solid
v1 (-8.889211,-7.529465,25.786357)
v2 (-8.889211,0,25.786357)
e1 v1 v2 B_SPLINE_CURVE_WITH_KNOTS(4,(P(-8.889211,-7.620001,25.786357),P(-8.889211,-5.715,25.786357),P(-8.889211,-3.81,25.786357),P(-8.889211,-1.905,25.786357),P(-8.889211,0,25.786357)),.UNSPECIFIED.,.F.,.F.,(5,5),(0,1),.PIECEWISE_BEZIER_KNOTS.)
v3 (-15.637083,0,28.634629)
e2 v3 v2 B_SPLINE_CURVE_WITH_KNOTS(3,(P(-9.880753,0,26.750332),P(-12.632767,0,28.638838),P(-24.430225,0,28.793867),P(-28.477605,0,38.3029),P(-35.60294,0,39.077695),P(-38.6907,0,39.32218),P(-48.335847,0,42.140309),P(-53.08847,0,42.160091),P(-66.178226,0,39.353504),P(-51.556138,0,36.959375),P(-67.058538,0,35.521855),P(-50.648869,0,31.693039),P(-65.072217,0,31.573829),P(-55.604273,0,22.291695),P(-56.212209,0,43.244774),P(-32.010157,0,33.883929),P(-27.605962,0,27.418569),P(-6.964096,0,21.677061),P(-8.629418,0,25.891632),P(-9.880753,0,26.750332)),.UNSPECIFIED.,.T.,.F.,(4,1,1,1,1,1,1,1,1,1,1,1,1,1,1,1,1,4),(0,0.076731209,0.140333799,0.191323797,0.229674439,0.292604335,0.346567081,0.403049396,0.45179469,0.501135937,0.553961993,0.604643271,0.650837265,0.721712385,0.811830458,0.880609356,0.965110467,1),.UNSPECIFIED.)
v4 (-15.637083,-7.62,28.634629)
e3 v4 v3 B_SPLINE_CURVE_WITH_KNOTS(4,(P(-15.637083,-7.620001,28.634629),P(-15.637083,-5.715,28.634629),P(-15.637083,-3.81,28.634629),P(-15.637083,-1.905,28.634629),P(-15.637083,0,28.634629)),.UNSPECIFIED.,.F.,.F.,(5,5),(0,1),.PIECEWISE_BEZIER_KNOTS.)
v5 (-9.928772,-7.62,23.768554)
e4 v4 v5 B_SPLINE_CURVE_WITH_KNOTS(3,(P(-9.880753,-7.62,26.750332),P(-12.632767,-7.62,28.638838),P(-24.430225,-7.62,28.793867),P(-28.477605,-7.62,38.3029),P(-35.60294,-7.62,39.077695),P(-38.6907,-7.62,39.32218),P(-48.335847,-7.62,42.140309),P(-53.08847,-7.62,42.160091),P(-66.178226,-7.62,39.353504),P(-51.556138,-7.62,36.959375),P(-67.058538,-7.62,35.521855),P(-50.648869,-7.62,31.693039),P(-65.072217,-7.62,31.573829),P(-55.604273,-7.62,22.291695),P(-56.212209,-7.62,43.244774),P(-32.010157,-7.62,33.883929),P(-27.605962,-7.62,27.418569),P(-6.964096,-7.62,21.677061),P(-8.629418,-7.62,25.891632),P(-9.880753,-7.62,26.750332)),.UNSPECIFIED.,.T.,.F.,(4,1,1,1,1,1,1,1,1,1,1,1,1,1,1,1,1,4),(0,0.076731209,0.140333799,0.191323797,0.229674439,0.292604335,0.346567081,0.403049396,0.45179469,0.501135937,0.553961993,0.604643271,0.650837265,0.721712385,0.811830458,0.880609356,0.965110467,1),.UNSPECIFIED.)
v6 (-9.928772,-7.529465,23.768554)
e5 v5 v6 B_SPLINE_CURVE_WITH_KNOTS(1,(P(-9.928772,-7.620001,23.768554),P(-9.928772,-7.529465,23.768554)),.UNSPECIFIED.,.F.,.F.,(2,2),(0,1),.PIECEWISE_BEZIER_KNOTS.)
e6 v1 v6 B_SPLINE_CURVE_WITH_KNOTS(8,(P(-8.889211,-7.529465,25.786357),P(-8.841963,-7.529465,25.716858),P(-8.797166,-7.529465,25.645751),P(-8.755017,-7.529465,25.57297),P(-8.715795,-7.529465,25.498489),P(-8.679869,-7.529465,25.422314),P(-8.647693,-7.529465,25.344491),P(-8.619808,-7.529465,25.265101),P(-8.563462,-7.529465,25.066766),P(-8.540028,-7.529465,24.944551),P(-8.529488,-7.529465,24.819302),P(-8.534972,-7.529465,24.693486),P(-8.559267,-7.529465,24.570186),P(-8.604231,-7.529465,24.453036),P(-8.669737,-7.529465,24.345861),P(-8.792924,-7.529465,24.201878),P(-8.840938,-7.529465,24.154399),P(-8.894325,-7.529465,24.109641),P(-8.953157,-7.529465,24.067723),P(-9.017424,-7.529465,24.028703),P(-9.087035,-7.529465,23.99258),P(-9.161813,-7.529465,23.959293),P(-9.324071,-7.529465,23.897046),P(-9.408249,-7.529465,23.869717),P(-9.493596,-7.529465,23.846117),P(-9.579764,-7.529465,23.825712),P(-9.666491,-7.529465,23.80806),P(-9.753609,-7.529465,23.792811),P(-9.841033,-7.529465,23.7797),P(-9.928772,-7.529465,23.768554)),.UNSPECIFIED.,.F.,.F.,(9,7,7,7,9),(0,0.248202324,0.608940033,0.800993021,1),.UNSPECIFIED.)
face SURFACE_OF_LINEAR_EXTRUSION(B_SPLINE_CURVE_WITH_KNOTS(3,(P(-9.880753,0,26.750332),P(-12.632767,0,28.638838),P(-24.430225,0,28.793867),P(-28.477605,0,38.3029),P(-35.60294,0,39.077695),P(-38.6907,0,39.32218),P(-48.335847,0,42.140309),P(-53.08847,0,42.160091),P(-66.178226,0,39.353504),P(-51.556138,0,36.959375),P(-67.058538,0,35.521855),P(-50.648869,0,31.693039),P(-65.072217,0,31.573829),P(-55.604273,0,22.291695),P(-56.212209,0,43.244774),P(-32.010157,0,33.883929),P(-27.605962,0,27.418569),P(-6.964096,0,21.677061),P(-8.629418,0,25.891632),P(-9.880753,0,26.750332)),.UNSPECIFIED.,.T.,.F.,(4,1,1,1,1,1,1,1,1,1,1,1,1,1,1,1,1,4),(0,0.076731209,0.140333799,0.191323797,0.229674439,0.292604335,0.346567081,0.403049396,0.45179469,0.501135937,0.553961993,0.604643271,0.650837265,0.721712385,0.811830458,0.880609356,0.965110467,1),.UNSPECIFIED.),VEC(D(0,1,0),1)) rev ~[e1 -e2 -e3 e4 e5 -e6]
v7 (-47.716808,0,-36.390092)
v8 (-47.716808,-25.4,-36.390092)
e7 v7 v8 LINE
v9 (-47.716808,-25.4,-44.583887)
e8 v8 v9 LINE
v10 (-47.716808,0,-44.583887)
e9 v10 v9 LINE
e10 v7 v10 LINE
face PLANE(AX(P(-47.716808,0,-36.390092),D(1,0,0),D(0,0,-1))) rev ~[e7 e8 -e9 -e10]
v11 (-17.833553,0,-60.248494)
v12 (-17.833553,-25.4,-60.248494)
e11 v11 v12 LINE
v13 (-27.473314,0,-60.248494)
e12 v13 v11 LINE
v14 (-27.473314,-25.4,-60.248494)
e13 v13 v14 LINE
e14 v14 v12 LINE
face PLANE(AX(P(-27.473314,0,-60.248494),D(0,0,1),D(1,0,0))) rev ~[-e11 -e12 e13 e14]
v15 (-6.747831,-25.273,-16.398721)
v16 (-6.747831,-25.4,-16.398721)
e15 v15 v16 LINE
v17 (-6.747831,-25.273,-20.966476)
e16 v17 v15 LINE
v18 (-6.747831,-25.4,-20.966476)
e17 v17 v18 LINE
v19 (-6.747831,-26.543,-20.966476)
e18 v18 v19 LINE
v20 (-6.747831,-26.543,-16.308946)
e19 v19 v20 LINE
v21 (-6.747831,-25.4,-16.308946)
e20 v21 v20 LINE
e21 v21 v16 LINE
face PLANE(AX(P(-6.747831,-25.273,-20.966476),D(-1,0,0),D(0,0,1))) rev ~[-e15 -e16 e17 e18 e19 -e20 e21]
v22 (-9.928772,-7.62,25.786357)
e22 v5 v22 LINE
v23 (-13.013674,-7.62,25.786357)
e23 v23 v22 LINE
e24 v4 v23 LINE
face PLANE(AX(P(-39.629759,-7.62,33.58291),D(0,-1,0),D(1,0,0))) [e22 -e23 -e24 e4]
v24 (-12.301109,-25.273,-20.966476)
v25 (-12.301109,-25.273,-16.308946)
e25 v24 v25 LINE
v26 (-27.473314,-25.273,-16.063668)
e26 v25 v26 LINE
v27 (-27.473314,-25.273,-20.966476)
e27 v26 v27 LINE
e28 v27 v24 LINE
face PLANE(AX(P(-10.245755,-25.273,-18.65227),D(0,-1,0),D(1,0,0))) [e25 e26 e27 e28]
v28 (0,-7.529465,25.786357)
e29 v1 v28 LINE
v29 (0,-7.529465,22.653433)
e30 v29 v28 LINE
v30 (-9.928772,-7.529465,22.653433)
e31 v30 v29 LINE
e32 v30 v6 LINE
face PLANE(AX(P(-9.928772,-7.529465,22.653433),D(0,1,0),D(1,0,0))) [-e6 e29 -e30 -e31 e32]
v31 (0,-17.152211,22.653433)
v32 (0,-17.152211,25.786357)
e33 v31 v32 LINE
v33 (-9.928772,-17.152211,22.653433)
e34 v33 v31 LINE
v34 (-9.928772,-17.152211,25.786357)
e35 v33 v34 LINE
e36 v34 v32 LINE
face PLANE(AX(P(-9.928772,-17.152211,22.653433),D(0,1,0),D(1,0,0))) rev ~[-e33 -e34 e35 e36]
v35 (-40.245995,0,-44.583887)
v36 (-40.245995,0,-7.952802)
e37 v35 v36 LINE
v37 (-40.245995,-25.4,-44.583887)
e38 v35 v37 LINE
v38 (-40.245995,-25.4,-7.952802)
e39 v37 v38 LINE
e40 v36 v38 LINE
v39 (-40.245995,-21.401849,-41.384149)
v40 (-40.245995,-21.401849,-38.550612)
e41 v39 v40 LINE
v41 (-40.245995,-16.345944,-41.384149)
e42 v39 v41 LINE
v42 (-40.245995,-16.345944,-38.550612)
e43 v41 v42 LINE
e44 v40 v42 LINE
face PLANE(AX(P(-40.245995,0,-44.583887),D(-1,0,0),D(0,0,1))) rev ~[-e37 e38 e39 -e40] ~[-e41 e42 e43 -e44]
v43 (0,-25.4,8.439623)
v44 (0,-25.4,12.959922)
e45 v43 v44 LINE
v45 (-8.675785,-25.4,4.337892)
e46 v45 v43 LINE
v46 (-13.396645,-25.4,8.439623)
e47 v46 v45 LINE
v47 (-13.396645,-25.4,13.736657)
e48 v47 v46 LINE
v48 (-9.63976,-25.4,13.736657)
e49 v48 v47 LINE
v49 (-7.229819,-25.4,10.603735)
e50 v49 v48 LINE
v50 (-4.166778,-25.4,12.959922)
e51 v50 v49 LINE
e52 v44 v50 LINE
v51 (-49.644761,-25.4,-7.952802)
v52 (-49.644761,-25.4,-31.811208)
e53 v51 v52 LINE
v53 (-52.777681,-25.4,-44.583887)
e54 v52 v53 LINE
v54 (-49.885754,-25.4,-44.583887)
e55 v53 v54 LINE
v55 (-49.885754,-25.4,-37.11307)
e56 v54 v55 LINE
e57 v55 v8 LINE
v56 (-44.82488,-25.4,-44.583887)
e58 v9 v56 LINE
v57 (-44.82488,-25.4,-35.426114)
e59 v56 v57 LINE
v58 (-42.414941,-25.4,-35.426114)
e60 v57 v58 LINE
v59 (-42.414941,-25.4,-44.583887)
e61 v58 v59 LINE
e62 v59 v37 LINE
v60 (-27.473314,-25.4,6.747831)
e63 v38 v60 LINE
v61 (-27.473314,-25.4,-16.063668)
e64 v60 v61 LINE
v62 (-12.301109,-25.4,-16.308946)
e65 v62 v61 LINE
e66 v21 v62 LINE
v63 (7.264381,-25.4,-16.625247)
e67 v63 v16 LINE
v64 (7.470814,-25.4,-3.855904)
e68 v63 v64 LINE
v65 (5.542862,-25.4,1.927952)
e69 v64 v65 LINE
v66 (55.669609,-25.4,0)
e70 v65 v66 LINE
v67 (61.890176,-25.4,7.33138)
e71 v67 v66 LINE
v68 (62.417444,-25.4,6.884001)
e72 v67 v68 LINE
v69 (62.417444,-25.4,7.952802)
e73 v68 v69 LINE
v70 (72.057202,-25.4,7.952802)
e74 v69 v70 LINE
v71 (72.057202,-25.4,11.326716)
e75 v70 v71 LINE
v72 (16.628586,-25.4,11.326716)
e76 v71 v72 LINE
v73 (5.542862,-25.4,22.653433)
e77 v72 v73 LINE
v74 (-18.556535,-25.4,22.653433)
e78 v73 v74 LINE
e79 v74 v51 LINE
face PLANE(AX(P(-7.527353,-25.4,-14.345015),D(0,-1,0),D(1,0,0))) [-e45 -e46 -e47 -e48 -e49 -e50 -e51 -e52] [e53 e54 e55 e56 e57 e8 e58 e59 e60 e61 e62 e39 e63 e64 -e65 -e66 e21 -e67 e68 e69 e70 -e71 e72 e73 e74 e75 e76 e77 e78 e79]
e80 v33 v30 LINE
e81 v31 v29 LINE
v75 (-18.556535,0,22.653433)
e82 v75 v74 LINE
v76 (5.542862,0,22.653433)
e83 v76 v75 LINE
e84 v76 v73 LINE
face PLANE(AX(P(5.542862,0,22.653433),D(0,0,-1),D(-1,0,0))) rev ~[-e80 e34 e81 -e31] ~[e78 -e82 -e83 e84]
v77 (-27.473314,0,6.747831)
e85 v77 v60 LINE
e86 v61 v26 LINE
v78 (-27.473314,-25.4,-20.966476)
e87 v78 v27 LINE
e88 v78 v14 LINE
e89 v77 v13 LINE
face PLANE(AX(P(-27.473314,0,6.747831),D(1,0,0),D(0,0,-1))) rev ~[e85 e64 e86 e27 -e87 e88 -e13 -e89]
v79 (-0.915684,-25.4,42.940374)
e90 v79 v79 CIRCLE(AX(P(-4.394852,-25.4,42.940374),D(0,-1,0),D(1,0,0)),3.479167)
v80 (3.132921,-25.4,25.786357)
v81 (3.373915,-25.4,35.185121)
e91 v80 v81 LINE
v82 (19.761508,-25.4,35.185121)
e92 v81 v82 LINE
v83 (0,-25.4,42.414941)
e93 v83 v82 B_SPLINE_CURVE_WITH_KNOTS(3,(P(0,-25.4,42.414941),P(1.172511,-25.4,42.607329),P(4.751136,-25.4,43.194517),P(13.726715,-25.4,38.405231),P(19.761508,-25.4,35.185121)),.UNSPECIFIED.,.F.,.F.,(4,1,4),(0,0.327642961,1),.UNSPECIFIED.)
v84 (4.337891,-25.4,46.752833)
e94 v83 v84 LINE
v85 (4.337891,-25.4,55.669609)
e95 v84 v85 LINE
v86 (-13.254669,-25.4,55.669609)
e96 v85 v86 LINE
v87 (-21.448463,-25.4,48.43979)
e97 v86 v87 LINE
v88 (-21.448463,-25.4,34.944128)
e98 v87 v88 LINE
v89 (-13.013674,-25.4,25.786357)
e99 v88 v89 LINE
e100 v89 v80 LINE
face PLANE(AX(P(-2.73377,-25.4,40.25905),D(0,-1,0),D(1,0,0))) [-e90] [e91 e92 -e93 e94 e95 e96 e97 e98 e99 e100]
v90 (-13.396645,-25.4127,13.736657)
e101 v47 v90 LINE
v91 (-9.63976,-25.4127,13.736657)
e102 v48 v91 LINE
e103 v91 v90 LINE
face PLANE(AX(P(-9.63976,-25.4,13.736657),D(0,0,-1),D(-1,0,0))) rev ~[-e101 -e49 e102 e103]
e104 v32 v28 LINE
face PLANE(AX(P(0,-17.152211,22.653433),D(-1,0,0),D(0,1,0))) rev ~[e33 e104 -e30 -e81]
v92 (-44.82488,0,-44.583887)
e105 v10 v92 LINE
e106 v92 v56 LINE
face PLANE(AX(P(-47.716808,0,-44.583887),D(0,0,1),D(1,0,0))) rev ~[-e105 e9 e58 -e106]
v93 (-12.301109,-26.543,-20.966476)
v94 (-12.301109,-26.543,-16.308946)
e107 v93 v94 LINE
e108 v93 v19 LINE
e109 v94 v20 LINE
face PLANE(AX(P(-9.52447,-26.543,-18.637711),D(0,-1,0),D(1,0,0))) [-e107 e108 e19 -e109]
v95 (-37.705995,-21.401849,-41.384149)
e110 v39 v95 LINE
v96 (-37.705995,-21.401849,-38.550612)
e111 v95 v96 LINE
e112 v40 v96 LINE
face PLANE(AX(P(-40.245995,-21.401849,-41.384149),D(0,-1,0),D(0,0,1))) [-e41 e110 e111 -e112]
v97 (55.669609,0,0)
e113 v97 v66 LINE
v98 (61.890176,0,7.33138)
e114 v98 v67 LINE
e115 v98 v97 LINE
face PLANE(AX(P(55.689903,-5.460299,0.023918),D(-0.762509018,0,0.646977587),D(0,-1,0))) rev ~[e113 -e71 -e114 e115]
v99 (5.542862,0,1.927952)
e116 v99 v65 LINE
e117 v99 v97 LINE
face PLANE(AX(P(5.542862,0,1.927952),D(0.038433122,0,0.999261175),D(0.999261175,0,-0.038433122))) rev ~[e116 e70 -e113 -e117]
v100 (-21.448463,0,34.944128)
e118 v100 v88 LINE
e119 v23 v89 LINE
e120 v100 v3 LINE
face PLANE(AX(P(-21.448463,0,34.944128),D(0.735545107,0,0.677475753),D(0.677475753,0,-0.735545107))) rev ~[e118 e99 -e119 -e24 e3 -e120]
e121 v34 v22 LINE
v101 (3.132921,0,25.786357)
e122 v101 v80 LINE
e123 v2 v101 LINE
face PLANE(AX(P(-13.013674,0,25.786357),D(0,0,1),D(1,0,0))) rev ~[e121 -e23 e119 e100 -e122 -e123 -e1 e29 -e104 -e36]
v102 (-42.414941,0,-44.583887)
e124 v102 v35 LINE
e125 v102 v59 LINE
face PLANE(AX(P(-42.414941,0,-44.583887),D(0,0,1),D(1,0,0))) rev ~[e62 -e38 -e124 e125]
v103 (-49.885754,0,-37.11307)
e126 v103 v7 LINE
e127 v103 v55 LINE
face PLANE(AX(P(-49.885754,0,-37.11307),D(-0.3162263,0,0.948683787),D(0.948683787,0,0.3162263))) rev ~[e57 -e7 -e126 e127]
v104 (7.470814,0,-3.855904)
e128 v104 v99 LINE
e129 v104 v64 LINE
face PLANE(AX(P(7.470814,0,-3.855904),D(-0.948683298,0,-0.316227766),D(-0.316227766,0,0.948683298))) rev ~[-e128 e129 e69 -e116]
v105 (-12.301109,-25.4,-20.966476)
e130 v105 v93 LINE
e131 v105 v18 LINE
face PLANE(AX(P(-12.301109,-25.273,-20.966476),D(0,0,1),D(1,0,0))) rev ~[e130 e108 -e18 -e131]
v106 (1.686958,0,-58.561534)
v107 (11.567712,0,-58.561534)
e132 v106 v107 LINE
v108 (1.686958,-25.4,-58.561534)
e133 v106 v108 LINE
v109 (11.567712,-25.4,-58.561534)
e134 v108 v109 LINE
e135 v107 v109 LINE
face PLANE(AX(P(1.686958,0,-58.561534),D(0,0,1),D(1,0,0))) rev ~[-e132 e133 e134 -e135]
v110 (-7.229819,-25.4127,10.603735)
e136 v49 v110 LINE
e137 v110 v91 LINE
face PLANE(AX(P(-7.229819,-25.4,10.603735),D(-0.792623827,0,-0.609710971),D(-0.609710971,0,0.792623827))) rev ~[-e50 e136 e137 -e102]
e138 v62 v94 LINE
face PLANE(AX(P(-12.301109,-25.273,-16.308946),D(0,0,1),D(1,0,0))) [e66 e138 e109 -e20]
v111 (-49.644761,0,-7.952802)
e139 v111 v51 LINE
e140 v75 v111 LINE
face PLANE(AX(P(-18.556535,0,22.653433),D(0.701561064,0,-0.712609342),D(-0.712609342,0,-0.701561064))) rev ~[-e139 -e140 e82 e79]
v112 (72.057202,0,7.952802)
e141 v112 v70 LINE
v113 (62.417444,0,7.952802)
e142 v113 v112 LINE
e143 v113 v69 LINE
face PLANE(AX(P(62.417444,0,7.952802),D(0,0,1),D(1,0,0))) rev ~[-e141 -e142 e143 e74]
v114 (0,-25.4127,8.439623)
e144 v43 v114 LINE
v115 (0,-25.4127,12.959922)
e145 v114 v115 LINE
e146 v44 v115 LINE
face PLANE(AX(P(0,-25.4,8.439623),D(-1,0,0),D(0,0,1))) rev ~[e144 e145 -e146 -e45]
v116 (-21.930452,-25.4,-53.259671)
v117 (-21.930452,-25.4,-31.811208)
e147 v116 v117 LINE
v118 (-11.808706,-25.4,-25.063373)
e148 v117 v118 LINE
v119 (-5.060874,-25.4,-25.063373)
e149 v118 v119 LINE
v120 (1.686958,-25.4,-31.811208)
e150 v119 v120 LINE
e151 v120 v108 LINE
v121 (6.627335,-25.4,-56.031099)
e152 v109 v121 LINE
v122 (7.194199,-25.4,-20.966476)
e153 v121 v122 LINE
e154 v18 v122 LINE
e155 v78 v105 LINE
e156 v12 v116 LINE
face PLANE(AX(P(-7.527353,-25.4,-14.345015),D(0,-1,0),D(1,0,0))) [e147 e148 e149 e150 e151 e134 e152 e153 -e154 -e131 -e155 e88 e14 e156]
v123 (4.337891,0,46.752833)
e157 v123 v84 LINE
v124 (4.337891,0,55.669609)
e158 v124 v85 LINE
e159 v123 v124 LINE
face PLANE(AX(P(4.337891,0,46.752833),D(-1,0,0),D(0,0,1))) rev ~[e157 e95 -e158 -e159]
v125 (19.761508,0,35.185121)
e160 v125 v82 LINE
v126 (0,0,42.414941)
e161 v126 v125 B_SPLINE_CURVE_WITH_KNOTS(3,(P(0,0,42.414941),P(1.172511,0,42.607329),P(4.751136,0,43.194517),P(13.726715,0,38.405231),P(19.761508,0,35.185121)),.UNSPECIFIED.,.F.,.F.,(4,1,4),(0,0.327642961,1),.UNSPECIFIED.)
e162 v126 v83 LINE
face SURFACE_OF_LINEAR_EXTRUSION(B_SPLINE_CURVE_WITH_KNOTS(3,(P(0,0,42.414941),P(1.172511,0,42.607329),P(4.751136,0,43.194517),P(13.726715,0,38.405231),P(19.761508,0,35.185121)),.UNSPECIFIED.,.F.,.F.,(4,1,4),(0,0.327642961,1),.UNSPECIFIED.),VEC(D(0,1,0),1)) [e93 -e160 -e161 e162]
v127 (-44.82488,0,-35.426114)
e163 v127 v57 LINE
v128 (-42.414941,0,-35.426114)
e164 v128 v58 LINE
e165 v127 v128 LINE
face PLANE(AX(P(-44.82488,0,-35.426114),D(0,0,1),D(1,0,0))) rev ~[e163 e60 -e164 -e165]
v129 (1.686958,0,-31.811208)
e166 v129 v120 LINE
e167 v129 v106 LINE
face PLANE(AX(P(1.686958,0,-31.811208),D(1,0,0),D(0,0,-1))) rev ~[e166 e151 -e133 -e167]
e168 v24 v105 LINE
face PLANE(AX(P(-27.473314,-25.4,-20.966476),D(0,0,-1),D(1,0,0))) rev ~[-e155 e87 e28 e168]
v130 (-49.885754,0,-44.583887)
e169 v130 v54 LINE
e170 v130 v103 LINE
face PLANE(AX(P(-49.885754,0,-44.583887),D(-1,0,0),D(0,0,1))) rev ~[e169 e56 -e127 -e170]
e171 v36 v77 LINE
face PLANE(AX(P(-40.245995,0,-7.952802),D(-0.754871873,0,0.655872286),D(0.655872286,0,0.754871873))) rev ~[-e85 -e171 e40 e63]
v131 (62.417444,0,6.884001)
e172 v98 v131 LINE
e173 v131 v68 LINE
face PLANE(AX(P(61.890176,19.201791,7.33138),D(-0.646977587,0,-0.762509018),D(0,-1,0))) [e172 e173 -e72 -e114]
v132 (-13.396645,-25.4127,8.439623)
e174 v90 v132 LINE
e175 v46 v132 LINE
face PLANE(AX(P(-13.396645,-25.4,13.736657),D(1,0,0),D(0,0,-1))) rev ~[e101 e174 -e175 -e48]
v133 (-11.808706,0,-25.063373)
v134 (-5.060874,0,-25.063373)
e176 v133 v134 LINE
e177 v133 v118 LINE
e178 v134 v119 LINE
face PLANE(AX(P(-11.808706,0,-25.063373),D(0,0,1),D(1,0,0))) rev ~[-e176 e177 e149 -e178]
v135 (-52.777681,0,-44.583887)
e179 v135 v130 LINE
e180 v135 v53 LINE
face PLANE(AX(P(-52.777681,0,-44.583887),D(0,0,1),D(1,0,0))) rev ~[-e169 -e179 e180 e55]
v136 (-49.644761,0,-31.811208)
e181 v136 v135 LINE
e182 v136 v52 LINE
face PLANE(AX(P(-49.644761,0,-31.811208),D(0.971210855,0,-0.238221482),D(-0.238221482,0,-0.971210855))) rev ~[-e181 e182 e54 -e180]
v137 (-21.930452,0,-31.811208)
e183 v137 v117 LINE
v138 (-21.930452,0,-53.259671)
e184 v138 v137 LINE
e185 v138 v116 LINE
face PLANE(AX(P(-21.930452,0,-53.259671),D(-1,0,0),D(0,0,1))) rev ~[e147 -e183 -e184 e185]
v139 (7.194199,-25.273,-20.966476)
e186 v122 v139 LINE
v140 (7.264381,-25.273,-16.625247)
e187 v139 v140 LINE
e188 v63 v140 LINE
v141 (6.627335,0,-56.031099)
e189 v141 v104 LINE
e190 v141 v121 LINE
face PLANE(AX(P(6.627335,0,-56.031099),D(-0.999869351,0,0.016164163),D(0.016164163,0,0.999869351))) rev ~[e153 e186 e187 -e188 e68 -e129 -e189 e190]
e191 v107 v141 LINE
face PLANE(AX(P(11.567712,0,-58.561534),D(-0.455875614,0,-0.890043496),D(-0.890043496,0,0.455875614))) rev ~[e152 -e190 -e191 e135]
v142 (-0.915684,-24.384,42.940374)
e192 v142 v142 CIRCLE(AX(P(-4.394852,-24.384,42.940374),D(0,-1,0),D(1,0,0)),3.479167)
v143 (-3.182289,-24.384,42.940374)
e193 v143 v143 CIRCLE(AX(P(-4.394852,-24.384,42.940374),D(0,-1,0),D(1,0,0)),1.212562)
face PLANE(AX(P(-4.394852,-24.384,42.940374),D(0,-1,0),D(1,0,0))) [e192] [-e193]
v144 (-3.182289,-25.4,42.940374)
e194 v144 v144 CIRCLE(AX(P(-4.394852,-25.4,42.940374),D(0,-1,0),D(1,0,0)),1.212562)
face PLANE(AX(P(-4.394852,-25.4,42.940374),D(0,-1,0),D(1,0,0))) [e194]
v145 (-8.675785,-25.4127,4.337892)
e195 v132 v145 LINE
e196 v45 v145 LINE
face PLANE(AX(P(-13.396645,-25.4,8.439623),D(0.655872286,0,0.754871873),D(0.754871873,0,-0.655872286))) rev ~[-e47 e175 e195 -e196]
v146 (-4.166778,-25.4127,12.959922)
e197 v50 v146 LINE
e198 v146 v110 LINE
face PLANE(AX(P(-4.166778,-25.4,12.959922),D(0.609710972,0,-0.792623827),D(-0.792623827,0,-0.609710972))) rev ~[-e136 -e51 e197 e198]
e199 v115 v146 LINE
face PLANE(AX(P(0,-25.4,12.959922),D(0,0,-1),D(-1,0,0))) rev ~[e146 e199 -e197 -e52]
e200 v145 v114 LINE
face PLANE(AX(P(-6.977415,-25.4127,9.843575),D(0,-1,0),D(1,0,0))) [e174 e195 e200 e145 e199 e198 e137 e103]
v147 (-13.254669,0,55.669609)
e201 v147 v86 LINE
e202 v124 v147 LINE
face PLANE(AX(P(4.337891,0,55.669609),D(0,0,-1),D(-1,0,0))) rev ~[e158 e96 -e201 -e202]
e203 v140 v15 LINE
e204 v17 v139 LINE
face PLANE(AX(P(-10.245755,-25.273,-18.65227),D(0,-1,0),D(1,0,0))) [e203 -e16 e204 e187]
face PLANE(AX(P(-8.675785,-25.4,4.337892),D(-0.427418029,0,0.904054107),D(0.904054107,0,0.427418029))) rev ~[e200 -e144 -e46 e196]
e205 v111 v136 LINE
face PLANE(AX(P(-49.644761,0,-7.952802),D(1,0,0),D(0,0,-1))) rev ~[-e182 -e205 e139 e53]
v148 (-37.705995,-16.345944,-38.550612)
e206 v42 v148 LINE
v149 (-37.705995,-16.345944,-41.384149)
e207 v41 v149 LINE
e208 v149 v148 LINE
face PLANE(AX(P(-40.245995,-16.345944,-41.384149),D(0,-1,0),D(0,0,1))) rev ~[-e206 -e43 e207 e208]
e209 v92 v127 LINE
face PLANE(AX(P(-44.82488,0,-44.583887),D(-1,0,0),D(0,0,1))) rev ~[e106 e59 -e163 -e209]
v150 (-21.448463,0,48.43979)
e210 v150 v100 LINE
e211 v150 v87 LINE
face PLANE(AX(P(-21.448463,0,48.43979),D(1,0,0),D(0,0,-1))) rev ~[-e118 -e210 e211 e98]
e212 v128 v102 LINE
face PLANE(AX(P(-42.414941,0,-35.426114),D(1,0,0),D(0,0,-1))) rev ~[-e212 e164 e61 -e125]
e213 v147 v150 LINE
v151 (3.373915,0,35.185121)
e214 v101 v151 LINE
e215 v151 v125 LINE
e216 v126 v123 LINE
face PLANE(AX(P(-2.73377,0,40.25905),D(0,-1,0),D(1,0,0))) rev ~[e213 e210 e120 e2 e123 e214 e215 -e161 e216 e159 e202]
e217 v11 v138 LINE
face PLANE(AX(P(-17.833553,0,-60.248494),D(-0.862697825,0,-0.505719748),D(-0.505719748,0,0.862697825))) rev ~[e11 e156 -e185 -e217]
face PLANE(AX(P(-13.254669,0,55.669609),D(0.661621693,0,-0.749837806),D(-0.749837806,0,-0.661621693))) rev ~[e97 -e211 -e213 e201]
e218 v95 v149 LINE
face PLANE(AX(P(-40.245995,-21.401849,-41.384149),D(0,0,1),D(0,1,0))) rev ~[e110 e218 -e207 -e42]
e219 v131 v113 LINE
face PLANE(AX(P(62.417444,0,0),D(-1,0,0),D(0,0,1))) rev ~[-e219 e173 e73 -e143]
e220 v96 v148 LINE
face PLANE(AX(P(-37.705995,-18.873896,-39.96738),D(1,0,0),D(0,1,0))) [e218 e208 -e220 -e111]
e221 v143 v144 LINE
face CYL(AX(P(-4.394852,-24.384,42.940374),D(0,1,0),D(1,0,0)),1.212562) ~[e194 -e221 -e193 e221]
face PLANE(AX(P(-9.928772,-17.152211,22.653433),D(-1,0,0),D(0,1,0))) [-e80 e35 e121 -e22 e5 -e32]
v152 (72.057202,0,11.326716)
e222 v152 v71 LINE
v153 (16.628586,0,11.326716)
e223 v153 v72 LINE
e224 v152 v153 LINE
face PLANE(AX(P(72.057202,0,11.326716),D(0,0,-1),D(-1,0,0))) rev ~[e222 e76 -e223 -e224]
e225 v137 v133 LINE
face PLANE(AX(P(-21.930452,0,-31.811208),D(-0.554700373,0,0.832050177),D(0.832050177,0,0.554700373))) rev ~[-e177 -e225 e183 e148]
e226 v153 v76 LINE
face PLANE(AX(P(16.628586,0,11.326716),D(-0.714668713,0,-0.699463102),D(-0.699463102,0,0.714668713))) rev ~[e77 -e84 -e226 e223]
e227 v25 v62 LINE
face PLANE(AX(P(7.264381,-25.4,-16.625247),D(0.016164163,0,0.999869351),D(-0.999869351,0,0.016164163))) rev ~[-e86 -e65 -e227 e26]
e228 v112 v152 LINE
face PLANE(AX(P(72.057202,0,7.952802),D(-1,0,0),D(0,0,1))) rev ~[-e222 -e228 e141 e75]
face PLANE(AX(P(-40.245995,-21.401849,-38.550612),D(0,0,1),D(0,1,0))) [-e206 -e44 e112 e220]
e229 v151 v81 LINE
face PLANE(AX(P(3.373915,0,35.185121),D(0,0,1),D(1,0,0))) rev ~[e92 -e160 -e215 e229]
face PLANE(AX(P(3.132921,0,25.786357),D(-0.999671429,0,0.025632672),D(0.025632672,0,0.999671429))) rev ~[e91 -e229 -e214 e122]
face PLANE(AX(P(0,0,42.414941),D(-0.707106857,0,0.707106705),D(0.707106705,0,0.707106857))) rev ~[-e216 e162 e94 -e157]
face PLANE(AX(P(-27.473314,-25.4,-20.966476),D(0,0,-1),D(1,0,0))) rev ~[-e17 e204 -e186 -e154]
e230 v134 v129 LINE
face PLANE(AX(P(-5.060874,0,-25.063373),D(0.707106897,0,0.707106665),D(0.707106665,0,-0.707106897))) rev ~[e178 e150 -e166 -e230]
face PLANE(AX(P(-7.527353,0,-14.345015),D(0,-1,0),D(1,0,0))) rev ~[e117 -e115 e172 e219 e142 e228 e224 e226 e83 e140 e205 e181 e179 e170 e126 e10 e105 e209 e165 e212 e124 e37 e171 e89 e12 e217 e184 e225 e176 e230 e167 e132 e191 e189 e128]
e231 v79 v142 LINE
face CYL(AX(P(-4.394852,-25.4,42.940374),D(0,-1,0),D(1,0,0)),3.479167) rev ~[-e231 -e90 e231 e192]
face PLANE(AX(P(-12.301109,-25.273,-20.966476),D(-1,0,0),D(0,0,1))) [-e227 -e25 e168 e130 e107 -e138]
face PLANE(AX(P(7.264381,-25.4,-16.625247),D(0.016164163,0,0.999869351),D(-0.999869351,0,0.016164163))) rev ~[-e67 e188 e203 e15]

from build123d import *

# Parameters (mm, degrees)
F1_DEPTH  = 25.4
F2_W      = 63.3505880833
F2_H      = 33.755319193
F3_DEPTH  = 60.198
F4_W      = 9.928772226
F4_H      = 9.6227461472
F5_DEPTH  = 3.302
F7_DEPTH  = 25.4
F8_R      = 3.4791673205
F9_DEPTH  = 1.016
F10_R     = 1.2125624456
F11_DEPTH = 1.016
F14_W     = 49.3241790682
F14_H     = 19.1668868065
F15_DEPTH = 53.848
F16_W     = 5.0559043884
F16_H     = 2.8335377574
F17_DEPTH = 2.54
F19_DEPTH = 7.62
F21_DEPTH = 0.127
F23_DEPTH = 0.0127
F24_W     = 5.5532782829
F24_H     = 4.6575302699
F25_DEPTH = 1.27


with BuildPart() as f1:
    # F0 (on Front) → F1 (new body)
    with BuildSketch(Plane.XZ):
        Polygon((-27.4733137339, 6.7478311248), (-27.4733137339, -60.2484941483), (-17.8335532546, -60.2484941483), (-21.9304524362, -53.2596707344), (-21.9304524362, -31.8112075329), (-11.8087055162, -25.0633731484), (-5.0608739257, -25.0633731484), (1.6869582469, -31.8112075329), (1.6869582469, -53.5006634891), (6.6273350385, -56.0310985893), (7.4708135799, -3.8559036329), (5.5428617634, 1.9279518165), (55.6696094573, 0), (55.6696094573, 11.3267162815), (16.6285857558, 11.3267162815), (5.5428617634, 22.6534325629), (-6.5068367403, 22.6534325629), (-18.556535244, 22.6534325629), (-49.6447607875, -7.9528018832), (-49.6447607875, -31.8112075329), (-40.2459949255, -31.8112075329), (-40.2459949255, -7.9528018832), align=None)
        Polygon((-40.2459949255, -44.5838868618), (-40.2459949255, -31.8112075329), (-49.6447607875, -31.8112075329), (-52.7776814997, -44.5838868618), (-49.8857535422, -44.5838868618), (-49.8857535422, -37.113070488), (-47.716807574, -36.3900922239), (-47.716807574, -44.5838868618), (-44.8248796165, -44.5838868618), (-44.8248796165, -35.4261137545), (-42.4149408937, -35.4261137545), (-42.4149408937, -44.5838868618), align=None)
        Polygon((6.6273350385, -56.0310985893), (1.6869582469, -53.5006634891), (1.6869582469, -58.5615336895), (11.5677118301, -58.5615336895), align=None)
        Polygon((72.0572024584, 11.3267162815), (55.6696094573, 11.3267162815), (55.6696094573, 0), (62.4174438417, 0), (62.4174438417, 7.9528018832), (72.0572024584, 7.9528018832), align=None)
    extrude(amount=F1_DEPTH)

    # F4 (on face) → F5 (join)
    with BuildSketch(Plane.XY.offset(22.6534325629)):
        with Locations((-4.964386113, -12.3408376239)):
            Rectangle(F4_W, F4_H)
    extrude(amount=F5_DEPTH)

    # F6 (on Front) → F7 (join)
    with BuildSketch(Plane.XZ):
        with BuildLine():
            Line((-13.0136739463, 25.7863570005), (3.1329207122, 25.7863570005))
            Line((3.1329207122, 25.7863570005), (3.3739153296, 35.1851209998))
            Line((3.3739153296, 35.1851209998), (19.7615083307, 35.1851209998))
            add(Edge.make_bspline(
                [(0, 42.4149408937), (1.1725113045, 42.6073288832), (4.7511363451, 43.1945168057), (13.726714906, 38.4052310138), (19.7615083307, 35.1851209998)],
                knots=[0, 0, 0, 0, 0.327642961, 1, 1, 1, 1], degree=3))
            Line((0, 42.4149408937), (4.337891005, 46.75283283))
            Line((4.337891005, 46.75283283), (4.337891005, 55.6696094573))
            Line((4.337891005, 55.6696094573), (-13.2546685636, 55.6696094573))
            Line((-13.2546685636, 55.6696094573), (-21.4484632015, 48.4397895634))
            Line((-21.4484632015, 48.4397895634), (-21.4484632015, 34.9441282451))
            Line((-21.4484632015, 34.9441282451), (-13.0136739463, 25.7863570005))
        make_face()
    extrude(amount=F7_DEPTH)

    # F8 (on face) → F9 (cut)
    with BuildSketch(Plane.XZ.offset(25.4)):
        with Locations((-4.394851625, 42.9403744638)):
            Circle(F8_R)
    extrude(amount=-F9_DEPTH, mode=Mode.SUBTRACT)

    # F10 (on face) → F11 (join)
    with BuildSketch(Plane.XZ.offset(24.384)):
        with Locations((-4.394851625, 42.9403744638)):
            Circle(F10_R)
    extrude(amount=F11_DEPTH)

    # F14 (on 3pt) → F15 (cut)
    with BuildSketch(Plane(origin=(32.3674244633, 0, -27.4632793494), x_dir=(0, -1, 0), z_dir=(-0.7625090179, 0, 0.6469775866))):
        with Locations((5.4602986202, 36.0483564436)):
            Rectangle(F14_W, F14_H)
    extrude(amount=-F15_DEPTH, mode=Mode.SUBTRACT)

    # F16 (on face) → F17 (join)
    with BuildSketch(Plane.YZ.offset(-40.2459949255)):
        with Locations((-18.8738964498, -39.9673804641)):
            Rectangle(F16_W, F16_H)
    extrude(amount=F17_DEPTH)

    # F18 (on Front) → F19 (join)
    with BuildSketch(Plane.XZ):
        with BuildLine():
            add(Edge.make_bspline(
                [(-9.880753234, 26.7503317446), (-12.6327666648, 28.6388381467), (-24.4302246193, 28.7938667963), (-28.4776048798, 38.3028998987), (-35.6029400326, 39.0776954493), (-38.6906999345, 39.3221799755), (-48.3358471347, 42.1403085957), (-53.088470358, 42.1600912509), (-66.178226071, 39.3535036348), (-51.556137907, 36.9593750009), (-67.0585377663, 35.5218552234), (-50.6488687706, 31.6930389216), (-65.0722167735, 31.5738293762), (-55.6042726437, 22.2916952186), (-56.2122088188, 43.2447737318), (-32.0101573077, 33.8839288581), (-27.6059617493, 27.4185690591), (-6.964096172, 21.6770608474), (-8.6294180365, 25.891631527), (-9.880753234, 26.7503317446)],
                knots=[0, 0, 0, 0, 0.0767312087, 0.1403337991, 0.1913237965, 0.2296744395, 0.2926043354, 0.346567081, 0.4030493962, 0.4517946895, 0.5011359368, 0.5539619927, 0.6046432713, 0.6508372651, 0.7217123854, 0.8118304578, 0.8806093556, 0.9651104675, 1, 1, 1, 1], degree=3))
        make_face()
    extrude(amount=F19_DEPTH)

    # F20 (on face) → F21 (cut)
    with BuildSketch(Plane.XZ.offset(25.4)):
        Polygon((-27.4733137339, -16.0636675346), (-27.4733137339, -20.9664758295), (7.1941993671, -20.9664758295), (7.2643808711, -16.6252466528), align=None)
    extrude(amount=-F21_DEPTH, mode=Mode.SUBTRACT)

    # F22 (on face) → F23 (join)
    with BuildSketch(Plane.XZ.offset(25.4)):
        Polygon((-13.3966451027, 8.4396230327), (-8.6757848039, 4.3378919363), (0, 8.4396230327), (0, 12.9599219326), (-4.1667783908, 12.9599219326), (-7.2298194282, 10.6037352234), (-9.6397604793, 13.736656867), (-13.3966451027, 13.736656867), (-13.3966451027, 10.6037352234), align=None)
    extrude(amount=F23_DEPTH)

    # F24 (on face) → F25 (join)
    with BuildSketch(Plane.XZ.offset(25.273)):
        with Locations((-9.5244702663, -18.6377106946)):
            Rectangle(F24_W, F24_H)
    extrude(amount=F25_DEPTH)


with BuildPart() as f1b:
    # F0 (on Front) → F1, piece 2 (new body)
    with BuildSketch(Plane.XZ):
        Polygon((-15.4236145318, 28.6782830954), (-6.5068367403, 28.6782830954), (2.6509340387, 28.6782830954), (9.8807541654, 35.1851209998), (9.8807541654, 45.7888580859), (2.4099394213, 51.5727140009), (-14.218644239, 51.5727140009), (-22.6534344256, 46.75283283), (-22.6534344256, 34.9441282451), align=None)
    extrude(amount=F1_DEPTH)

    # F2 (on Front) → F3 (cut)
    with BuildSketch(Plane.XZ):
        with Locations((-3.2710805535, 41.4929902181)):
            Rectangle(F2_W, F2_H)
    extrude(amount=F3_DEPTH, mode=Mode.SUBTRACT)


solid = f1.part
